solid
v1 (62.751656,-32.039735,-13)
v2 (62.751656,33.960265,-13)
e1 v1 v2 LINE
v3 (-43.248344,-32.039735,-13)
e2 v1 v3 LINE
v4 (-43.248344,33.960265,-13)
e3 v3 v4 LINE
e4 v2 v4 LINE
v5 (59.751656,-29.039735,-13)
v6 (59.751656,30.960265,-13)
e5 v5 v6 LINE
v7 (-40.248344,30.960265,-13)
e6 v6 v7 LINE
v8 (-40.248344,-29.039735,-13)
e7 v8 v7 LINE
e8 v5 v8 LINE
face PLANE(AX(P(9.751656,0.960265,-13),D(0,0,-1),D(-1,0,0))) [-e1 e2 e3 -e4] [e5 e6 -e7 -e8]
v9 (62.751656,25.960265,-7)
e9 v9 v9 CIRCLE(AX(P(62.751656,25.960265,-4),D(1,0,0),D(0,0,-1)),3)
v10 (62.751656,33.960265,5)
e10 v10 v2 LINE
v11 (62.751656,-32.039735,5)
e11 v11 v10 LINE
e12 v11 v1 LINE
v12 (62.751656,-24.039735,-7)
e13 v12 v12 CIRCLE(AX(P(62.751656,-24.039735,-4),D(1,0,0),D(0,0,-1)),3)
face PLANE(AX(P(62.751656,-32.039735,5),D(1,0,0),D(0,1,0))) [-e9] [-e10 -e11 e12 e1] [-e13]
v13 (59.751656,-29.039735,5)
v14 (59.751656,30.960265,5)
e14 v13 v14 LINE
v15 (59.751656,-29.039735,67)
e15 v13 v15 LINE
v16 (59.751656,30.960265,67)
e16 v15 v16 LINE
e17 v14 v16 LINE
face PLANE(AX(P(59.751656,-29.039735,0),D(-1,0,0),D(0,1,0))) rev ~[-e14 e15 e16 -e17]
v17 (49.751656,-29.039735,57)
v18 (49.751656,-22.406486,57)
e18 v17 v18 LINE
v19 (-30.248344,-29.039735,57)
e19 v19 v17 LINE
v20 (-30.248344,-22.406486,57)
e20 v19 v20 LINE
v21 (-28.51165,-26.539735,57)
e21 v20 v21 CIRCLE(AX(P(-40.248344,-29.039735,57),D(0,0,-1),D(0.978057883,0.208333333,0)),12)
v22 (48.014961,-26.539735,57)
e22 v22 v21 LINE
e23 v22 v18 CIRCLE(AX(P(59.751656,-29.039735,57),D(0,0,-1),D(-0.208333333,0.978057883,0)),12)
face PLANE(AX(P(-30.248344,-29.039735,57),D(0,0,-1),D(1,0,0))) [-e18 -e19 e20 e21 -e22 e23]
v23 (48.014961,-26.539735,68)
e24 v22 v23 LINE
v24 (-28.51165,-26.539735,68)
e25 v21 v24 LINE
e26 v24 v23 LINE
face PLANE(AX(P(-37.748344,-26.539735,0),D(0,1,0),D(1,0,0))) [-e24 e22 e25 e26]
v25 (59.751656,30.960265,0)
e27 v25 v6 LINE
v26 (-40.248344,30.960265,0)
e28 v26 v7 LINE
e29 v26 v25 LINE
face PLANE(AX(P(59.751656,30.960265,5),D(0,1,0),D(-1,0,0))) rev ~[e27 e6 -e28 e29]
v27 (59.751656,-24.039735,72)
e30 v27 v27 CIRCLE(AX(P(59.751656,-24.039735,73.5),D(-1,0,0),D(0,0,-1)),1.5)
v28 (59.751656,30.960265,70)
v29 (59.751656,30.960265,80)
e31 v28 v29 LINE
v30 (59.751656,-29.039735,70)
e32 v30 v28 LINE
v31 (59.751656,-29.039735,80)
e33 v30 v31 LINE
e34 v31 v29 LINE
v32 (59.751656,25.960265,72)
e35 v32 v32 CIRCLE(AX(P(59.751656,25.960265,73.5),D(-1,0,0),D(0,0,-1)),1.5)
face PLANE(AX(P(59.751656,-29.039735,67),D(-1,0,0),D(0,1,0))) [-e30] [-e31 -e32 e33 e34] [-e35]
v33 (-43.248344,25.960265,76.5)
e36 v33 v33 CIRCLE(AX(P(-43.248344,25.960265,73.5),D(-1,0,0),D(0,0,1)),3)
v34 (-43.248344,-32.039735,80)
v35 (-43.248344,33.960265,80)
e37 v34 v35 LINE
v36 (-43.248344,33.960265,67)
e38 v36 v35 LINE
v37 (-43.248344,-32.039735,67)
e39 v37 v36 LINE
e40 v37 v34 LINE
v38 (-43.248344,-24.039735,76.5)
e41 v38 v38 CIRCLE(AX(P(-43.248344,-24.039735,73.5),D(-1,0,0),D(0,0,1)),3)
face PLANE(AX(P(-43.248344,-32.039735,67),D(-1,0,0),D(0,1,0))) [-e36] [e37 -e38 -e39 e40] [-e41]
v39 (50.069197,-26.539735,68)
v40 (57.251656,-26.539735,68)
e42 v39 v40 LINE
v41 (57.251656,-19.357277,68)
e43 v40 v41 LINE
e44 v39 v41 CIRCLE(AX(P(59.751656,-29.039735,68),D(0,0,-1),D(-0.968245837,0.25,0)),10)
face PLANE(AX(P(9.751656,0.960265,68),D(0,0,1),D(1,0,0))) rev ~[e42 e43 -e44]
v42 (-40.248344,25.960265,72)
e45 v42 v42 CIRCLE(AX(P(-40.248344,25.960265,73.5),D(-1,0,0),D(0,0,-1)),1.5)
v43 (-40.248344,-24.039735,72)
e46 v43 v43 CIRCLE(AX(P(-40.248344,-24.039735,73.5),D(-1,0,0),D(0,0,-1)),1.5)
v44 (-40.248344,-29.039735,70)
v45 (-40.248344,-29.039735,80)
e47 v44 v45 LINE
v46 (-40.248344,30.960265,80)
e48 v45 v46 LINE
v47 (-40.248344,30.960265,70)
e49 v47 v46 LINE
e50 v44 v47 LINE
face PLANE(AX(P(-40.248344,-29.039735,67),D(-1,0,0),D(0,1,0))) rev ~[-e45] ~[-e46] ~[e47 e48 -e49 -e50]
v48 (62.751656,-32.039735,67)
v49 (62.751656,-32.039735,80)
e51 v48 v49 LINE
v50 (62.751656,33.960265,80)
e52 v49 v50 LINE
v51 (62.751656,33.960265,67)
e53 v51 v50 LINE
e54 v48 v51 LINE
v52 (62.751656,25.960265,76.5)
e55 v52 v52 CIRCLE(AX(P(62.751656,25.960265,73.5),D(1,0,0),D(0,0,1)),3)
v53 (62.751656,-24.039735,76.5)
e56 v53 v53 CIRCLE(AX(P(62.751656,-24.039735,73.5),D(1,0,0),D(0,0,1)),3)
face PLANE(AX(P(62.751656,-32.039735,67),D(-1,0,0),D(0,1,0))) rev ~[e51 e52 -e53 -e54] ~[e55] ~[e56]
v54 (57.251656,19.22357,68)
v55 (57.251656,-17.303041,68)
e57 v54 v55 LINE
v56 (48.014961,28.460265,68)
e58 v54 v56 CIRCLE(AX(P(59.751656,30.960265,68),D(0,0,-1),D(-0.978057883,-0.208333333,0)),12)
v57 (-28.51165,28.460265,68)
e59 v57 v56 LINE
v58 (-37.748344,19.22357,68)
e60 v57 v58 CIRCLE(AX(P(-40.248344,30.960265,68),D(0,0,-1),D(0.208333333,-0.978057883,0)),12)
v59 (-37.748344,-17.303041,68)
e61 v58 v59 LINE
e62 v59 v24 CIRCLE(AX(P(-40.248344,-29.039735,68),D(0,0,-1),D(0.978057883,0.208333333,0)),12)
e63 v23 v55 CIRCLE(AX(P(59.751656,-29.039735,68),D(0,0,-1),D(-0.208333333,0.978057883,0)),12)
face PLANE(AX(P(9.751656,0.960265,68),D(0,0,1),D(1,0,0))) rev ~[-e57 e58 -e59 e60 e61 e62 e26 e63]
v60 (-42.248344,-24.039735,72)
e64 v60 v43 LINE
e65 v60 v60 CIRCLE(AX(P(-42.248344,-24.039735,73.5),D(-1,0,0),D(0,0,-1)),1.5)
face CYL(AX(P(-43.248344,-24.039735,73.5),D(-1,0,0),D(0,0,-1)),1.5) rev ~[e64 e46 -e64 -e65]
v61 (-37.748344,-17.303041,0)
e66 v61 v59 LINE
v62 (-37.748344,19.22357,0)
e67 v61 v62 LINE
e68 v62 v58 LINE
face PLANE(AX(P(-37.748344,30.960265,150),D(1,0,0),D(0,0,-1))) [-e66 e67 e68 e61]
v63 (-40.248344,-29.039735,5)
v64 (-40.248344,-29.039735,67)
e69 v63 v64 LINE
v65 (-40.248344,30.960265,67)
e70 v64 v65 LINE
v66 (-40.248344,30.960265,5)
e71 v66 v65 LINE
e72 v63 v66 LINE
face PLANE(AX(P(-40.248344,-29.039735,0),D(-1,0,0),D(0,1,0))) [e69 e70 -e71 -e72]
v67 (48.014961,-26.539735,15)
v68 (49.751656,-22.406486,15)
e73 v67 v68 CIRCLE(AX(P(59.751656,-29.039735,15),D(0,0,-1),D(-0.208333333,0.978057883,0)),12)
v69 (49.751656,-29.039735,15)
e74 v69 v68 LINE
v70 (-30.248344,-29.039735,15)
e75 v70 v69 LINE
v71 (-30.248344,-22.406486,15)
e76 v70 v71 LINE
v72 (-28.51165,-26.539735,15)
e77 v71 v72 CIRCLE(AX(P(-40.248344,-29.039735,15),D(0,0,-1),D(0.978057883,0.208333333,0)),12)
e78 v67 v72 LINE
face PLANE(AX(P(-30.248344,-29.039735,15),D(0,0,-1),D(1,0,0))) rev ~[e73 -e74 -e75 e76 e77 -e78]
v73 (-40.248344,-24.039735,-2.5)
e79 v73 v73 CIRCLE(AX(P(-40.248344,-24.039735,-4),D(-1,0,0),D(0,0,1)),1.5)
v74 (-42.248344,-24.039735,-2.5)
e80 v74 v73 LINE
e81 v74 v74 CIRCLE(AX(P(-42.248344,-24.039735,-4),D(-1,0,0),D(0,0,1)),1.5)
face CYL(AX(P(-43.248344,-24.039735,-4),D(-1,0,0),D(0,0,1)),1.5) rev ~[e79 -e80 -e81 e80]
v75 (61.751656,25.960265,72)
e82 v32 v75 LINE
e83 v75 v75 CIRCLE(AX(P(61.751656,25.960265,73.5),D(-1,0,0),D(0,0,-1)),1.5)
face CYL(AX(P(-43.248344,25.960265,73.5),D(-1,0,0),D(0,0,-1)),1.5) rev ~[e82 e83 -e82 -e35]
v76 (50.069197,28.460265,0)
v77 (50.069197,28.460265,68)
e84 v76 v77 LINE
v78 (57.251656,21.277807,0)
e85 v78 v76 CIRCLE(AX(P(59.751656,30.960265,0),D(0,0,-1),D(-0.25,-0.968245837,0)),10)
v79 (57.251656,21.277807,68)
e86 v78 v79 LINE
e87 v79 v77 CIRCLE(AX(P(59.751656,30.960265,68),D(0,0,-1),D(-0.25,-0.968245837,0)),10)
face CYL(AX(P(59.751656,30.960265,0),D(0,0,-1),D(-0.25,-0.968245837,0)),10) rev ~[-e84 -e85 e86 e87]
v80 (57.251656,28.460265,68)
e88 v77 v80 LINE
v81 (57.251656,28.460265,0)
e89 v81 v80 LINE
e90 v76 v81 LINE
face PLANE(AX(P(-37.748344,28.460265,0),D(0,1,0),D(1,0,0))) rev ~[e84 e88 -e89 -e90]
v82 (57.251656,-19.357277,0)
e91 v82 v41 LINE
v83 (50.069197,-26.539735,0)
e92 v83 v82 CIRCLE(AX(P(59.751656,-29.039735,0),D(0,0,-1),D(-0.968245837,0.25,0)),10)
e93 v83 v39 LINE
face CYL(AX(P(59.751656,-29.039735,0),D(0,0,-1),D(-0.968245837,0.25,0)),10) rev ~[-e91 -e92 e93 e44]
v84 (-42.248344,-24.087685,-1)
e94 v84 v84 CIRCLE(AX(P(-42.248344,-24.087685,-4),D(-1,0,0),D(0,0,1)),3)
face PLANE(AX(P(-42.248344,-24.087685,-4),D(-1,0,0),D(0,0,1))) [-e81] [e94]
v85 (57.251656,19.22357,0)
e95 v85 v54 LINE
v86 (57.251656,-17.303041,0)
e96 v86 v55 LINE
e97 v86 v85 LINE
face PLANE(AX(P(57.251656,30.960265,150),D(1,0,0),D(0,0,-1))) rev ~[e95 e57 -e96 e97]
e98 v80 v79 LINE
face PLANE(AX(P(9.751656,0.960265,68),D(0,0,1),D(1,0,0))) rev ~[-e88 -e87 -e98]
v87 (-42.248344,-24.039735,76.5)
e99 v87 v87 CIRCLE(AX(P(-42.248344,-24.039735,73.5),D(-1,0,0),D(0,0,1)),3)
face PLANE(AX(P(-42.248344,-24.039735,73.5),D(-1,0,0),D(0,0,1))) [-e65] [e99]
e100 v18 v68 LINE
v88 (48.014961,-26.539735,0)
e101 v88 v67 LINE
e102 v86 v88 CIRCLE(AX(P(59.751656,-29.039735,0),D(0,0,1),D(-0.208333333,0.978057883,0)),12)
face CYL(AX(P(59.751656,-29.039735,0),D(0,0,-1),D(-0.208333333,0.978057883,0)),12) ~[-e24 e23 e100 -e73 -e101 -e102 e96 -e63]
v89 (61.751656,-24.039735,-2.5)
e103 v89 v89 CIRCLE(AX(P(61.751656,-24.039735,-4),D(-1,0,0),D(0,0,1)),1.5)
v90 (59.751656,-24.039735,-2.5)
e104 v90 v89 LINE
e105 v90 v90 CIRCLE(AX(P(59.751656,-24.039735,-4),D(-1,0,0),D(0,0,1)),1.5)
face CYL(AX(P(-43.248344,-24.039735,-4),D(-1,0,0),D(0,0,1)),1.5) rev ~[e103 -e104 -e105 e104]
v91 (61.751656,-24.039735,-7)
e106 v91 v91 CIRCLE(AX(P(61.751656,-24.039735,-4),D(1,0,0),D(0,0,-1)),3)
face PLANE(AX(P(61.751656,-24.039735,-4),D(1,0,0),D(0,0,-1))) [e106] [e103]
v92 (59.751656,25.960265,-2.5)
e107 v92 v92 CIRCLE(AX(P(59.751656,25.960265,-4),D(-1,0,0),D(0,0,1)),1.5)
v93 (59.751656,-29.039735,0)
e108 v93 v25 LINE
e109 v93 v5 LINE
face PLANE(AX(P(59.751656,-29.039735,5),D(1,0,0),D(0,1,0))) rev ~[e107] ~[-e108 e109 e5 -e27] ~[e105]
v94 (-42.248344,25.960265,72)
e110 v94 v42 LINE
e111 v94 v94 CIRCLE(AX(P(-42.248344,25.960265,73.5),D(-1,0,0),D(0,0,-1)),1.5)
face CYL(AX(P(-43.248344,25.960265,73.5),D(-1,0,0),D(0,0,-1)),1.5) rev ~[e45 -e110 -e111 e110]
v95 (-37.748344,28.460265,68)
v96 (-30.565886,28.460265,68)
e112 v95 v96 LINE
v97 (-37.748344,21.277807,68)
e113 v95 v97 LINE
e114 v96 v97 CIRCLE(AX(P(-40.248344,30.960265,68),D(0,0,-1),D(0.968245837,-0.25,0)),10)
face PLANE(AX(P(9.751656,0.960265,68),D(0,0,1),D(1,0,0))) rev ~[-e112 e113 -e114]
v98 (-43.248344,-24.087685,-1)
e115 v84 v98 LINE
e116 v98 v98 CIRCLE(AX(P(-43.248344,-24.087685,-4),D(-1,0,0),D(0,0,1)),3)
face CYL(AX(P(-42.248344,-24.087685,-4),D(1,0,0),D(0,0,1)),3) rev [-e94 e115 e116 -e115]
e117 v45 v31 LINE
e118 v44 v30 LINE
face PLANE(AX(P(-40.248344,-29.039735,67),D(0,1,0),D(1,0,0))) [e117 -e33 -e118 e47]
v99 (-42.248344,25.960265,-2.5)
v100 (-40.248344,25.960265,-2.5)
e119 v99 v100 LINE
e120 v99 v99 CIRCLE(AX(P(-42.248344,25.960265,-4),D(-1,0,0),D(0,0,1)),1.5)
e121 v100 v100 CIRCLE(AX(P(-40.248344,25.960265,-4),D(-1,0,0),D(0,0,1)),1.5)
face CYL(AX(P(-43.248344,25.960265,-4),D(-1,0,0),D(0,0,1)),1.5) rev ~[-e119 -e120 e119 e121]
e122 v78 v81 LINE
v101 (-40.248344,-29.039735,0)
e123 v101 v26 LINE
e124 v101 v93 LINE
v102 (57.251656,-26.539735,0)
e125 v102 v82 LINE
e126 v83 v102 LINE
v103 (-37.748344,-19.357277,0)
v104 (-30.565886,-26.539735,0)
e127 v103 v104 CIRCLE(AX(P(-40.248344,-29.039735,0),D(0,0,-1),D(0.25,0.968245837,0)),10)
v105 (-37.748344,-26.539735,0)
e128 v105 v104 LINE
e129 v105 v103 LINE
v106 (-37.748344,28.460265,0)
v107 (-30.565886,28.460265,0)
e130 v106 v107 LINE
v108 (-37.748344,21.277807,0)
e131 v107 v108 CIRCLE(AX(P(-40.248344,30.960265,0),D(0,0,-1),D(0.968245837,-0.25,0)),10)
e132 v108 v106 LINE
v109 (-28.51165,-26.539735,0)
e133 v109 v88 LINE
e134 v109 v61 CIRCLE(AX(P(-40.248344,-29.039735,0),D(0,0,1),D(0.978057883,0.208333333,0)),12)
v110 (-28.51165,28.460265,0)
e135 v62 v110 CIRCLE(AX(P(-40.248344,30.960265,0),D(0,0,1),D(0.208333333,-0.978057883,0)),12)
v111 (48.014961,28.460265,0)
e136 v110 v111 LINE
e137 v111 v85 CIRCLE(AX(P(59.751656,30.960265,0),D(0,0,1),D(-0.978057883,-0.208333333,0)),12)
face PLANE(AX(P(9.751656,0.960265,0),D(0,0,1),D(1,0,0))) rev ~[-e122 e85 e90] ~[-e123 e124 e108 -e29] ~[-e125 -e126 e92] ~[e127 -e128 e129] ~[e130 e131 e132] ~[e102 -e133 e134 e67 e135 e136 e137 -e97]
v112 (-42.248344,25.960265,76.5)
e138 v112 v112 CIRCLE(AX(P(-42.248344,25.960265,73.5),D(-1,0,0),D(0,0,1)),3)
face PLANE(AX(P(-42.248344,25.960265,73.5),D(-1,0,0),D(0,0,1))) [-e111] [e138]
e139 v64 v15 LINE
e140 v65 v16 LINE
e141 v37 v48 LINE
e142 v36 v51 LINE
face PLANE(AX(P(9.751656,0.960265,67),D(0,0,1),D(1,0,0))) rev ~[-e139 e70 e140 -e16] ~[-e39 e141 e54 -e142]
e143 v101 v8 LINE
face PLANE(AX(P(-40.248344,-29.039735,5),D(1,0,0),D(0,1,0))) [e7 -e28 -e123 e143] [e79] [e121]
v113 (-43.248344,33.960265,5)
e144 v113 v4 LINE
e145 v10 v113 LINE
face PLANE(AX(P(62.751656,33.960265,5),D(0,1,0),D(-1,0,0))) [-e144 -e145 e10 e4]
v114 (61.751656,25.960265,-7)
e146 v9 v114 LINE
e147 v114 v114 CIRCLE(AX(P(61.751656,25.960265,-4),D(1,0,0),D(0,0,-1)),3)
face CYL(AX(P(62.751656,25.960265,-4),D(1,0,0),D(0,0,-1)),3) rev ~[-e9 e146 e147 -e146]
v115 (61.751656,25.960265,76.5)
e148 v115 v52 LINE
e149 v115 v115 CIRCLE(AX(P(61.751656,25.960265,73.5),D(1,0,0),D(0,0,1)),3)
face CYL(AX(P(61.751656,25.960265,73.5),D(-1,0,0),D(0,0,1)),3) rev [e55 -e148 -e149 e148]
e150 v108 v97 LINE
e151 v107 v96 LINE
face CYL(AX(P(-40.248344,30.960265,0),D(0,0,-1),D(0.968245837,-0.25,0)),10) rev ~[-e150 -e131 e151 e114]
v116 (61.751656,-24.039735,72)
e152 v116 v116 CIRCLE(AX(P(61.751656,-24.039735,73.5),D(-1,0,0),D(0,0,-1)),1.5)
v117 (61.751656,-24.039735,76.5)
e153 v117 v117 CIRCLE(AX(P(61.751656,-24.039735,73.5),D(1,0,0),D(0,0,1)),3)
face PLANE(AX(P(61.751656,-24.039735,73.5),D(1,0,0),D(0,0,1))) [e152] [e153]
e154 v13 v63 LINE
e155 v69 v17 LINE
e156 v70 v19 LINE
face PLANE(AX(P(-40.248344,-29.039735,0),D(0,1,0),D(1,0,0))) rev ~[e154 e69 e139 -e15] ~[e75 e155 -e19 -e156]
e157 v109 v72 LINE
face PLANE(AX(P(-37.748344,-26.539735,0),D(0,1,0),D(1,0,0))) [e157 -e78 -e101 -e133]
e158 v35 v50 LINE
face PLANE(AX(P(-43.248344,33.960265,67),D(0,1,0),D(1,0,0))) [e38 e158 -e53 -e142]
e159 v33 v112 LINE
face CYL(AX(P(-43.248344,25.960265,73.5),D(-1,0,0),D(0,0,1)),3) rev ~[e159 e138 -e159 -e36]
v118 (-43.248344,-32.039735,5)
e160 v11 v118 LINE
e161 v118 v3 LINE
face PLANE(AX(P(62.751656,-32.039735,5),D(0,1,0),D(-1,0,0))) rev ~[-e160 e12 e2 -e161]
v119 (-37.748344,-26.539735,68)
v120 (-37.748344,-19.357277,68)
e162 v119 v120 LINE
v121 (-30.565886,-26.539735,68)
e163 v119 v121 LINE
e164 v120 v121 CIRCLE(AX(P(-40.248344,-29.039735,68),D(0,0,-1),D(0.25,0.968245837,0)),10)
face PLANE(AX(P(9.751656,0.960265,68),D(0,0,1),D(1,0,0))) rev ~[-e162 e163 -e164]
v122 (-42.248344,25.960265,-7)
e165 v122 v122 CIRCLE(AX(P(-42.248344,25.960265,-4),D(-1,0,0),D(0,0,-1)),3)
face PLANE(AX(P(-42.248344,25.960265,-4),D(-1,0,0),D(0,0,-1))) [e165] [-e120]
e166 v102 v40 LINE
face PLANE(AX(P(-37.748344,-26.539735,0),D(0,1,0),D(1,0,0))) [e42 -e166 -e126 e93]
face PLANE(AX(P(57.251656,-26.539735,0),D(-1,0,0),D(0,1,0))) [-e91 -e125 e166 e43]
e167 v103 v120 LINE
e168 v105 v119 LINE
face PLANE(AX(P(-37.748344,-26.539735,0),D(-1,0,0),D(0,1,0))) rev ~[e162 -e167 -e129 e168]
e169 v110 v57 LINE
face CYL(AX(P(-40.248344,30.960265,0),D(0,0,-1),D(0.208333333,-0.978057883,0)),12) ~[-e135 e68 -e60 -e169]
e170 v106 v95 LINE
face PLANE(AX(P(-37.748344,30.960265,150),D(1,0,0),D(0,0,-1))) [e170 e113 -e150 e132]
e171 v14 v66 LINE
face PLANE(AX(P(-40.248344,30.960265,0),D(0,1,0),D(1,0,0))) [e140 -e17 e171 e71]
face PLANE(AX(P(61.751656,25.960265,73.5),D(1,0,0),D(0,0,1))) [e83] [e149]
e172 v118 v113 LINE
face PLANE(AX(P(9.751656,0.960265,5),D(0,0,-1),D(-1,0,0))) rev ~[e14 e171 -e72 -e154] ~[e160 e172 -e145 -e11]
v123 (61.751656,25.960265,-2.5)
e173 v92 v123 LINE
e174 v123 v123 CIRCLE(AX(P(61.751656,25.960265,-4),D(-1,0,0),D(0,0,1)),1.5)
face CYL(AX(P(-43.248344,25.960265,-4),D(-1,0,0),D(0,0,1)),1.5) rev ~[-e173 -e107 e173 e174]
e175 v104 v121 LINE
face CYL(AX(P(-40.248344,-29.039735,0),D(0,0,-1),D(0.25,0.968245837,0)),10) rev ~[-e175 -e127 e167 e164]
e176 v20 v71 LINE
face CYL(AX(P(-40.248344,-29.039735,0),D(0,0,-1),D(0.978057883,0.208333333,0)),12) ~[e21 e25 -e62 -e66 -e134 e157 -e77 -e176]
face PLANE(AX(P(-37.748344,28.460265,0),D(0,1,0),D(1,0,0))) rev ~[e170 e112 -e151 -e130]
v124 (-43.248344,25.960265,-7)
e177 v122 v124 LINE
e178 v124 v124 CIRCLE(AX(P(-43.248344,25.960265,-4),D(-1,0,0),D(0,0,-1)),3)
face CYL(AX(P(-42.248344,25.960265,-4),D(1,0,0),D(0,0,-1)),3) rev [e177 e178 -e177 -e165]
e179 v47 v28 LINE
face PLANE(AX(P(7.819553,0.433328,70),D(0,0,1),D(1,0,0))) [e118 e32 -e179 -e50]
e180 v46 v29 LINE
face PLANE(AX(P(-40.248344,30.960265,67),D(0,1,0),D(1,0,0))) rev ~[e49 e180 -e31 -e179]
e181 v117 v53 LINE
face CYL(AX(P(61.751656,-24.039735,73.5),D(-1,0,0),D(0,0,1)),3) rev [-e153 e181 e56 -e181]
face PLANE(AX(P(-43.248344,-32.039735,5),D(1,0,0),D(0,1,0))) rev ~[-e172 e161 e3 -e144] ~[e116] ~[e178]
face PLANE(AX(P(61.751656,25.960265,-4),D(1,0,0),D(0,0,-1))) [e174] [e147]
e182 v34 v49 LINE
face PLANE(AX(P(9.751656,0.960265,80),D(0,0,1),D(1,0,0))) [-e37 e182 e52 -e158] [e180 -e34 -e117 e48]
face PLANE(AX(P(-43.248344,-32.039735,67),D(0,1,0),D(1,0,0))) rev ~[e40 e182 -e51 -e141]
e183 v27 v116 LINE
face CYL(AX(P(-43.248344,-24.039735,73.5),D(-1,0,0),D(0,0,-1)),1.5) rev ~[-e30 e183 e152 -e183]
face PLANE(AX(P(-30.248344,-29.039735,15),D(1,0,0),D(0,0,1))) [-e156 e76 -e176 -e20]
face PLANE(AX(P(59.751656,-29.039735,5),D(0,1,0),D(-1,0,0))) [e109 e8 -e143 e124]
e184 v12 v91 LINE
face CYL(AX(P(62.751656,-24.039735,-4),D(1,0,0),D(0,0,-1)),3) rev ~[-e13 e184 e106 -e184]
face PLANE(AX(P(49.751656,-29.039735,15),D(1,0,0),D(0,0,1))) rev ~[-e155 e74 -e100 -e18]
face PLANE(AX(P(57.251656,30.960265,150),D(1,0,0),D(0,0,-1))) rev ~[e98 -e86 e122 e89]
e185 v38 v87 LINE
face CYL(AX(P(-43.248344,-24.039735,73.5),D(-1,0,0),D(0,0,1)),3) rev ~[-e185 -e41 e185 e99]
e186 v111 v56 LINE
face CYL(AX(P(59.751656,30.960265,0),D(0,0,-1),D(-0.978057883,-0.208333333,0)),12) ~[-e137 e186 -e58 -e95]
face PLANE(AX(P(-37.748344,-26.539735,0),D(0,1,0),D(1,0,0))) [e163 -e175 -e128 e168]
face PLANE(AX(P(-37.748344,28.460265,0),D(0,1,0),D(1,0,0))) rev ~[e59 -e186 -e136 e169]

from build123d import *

# Parameters (mm, degrees)
SKETCH1_W                = 100
SKETCH1_H                = 60
BOSS_EXTRUDE1_DEPTH      = 150
SKETCH2_W                = 95
SKETCH2_H                = 15
CUT_EXTRUDE1_DEPTH       = 20
BOSS_EXTRUDE2_DEPTH      = 13
BOSS_EXTRUDE2_DEPTH_BACK = 5
SKETCH3_W                = 106
SKETCH3_H                = 66
SKETCH3_W_2              = 100
SKETCH3_H_2              = 60
SKETCH4_R                = 1.5
CUT_EXTRUDE2_DEPTH       = 120
SKETCH5_R                = 3
CUT_EXTRUDE3_DEPTH       = 1
CUT_EXTRUDE4_START       = -1
SKETCH6_R                = 3
CUT_EXTRUDE4_DEPTH       = 1
SKETCH8_W                = 125.879436885
SKETCH8_H                = 80.445742456
CUT_EXTRUDE6_DEPTH       = 80
BOSS_EXTRUDE3_DEPTH      = 10
BOSS_EXTRUDE3_DEPTH_BACK = 3
SKETCH9_W                = 106
SKETCH9_H                = 66
SKETCH9_W_2              = 100
SKETCH9_H_2              = 60
SKETCH10_R               = 1.5
CUT_EXTRUDE7_DEPTH       = 117
SKETCH10_3_R             = 3
CUT_EXTRUDE8_DEPTH       = 1
CUT_EXTRUDE9_START       = -1
SKETCH11_R               = 3
CUT_EXTRUDE9_DEPTH       = 1
SKETCH12_W               = 100
SKETCH12_H               = 60
BOSS_EXTRUDE4_DEPTH      = 2
SKETCH13_W               = 80
SKETCH13_H               = 42
CUT_EXTRUDE10_DEPTH      = 10


with BuildPart() as part:
    # Sketch1 → Boss-Extrude1 (new body)
    with BuildSketch(Plane.XY):
        with Locations((9.751655629, 0.960264901)):
            Rectangle(SKETCH1_W, SKETCH1_H)
        with BuildLine():
            Line((-37.748344371, 21.277806535), (-37.748344371, 28.460264901))
            Line((-37.748344371, 28.460264901), (-30.565886005, 28.460264901))
            ThreePointArc((-30.565886005, 28.460264901), (-33.177276559, 23.889197089), (-37.748344371, 21.277806535))
        make_face(mode=Mode.SUBTRACT)
        with BuildLine():
            Line((-37.748344371, -17.303040505), (-37.748344371, 19.223570306))
            ThreePointArc((-37.748344371, 19.223570306), (-31.763062997, 22.474983526), (-28.511649777, 28.460264901))
            Line((-28.511649777, 28.460264901), (48.014961035, 28.460264901))
            ThreePointArc((48.014961035, 28.460264901), (51.266374255, 22.474983526), (57.251655629, 19.223570306))
            Line((57.251655629, 19.223570306), (57.251655629, -17.303040505))
            ThreePointArc((57.251655629, -17.303040505), (51.266374255, -20.554453725), (48.014961035, -26.539735099))
            Line((48.014961035, -26.539735099), (-28.511649777, -26.539735099))
            ThreePointArc((-28.511649777, -26.539735099), (-31.763062997, -20.554453725), (-37.748344371, -17.303040505))
        make_face(mode=Mode.SUBTRACT)
        with BuildLine():
            Line((-37.748344371, -26.539735099), (-37.748344371, -19.357276734))
            ThreePointArc((-37.748344371, -19.357276734), (-33.177276559, -21.968667287), (-30.565886005, -26.539735099))
            Line((-30.565886005, -26.539735099), (-37.748344371, -26.539735099))
        make_face(mode=Mode.SUBTRACT)
        with BuildLine():
            Line((57.251655629, -26.539735099), (50.069197264, -26.539735099))
            ThreePointArc((50.069197264, -26.539735099), (52.680587817, -21.968667287), (57.251655629, -19.357276734))
            Line((57.251655629, -19.357276734), (57.251655629, -26.539735099))
        make_face(mode=Mode.SUBTRACT)
        with BuildLine():
            Line((57.251655629, 28.460264901), (57.251655629, 21.277806535))
            ThreePointArc((57.251655629, 21.277806535), (52.680587817, 23.889197089), (50.069197264, 28.460264901))
            Line((50.069197264, 28.460264901), (57.251655629, 28.460264901))
        make_face(mode=Mode.SUBTRACT)
    extrude(amount=BOSS_EXTRUDE1_DEPTH)

    # Sketch2 → Cut-Extrude1 (cut)
    with BuildSketch(Plane(origin=(0, 30.960264901, 0), x_dir=(1, 0, 0), z_dir=(0, 1, 0))):
        with Locations((9.751655629, -142.5)):
            Rectangle(SKETCH2_W, SKETCH2_H)
    extrude(amount=-CUT_EXTRUDE1_DEPTH, mode=Mode.SUBTRACT)

    # Sketch3 → Boss-Extrude2 (add, two sides: drawn at the far end of the back side and taken through both)
    with BuildSketch(Plane(origin=(0, 0, 0), x_dir=(-1, 0, 0), z_dir=(0, 0, -1)).offset(-BOSS_EXTRUDE2_DEPTH_BACK)):
        with Locations((-9.751655629, 0.960264901)):
            Rectangle(SKETCH3_W, SKETCH3_H)
        with Locations((-9.751655629, 0.960264901)):
            Rectangle(SKETCH3_W_2, SKETCH3_H_2, mode=Mode.SUBTRACT)
    extrude(amount=BOSS_EXTRUDE2_DEPTH + BOSS_EXTRUDE2_DEPTH_BACK)

    # Sketch4 → Cut-Extrude2 (cut)
    with BuildSketch(Plane.ZY.offset(43.248344371)):
        with Locations((-4, -24.039735099)):
            Circle(SKETCH4_R)
        with Locations((-4, 25.960264901)):
            Circle(SKETCH4_R)
    extrude(amount=-CUT_EXTRUDE2_DEPTH, mode=Mode.SUBTRACT)

    # Sketch5 → Cut-Extrude3 (cut)
    with BuildSketch(Plane(origin=(62.751655629, 0, 0), x_dir=(0, 0, -1), z_dir=(1, 0, 0))):
        with Locations((4, -24.039735099)):
            Circle(SKETCH5_R)
        with Locations((4, 25.960264901)):
            Circle(SKETCH5_R)
    extrude(amount=-CUT_EXTRUDE3_DEPTH, mode=Mode.SUBTRACT)

    # Sketch6 → Cut-Extrude4 (cut)
    with BuildSketch(Plane.ZY.offset(43.248344371).offset(CUT_EXTRUDE4_START)):
        with Locations((-4, 25.960264901)):
            Circle(SKETCH6_R)
        with Locations((-4, -24.087684502)):
            Circle(SKETCH6_R)
    extrude(amount=CUT_EXTRUDE4_DEPTH, mode=Mode.SUBTRACT)

    # Sketch8 → Cut-Extrude6 (cut)
    with BuildSketch(Plane.XY.offset(150)):
        with Locations((7.819552644, 0.433327723)):
            Rectangle(SKETCH8_W, SKETCH8_H)
    extrude(amount=-CUT_EXTRUDE6_DEPTH, mode=Mode.SUBTRACT)

    # Sketch9 → Boss-Extrude3 (add, two sides: drawn at the far end of the back side and taken through both)
    with BuildSketch(Plane.XY.offset(70).offset(-BOSS_EXTRUDE3_DEPTH_BACK)):
        with Locations((9.751655629, 0.960264901)):
            Rectangle(SKETCH9_W, SKETCH9_H)
        with Locations((9.751655629, 0.960264901)):
            Rectangle(SKETCH9_W_2, SKETCH9_H_2, mode=Mode.SUBTRACT)
    extrude(amount=BOSS_EXTRUDE3_DEPTH + BOSS_EXTRUDE3_DEPTH_BACK)

    # Sketch10 → Cut-Extrude7 (cut)
    with BuildSketch(Plane.ZY.offset(43.248344371)):
        with Locations((73.5, 25.960264901)):
            Circle(SKETCH10_R)
        with Locations((73.5, -24.039735099)):
            Circle(SKETCH10_R)
    extrude(amount=-CUT_EXTRUDE7_DEPTH, mode=Mode.SUBTRACT)

    # Sketch10<3> → Cut-Extrude8 (cut)
    with BuildSketch(Plane.ZY.offset(43.248344371)):
        with Locations((73.5, 25.960264901)):
            Circle(SKETCH10_3_R)
        with Locations((73.5, -24.039735099)):
            Circle(SKETCH10_3_R)
    extrude(amount=-CUT_EXTRUDE8_DEPTH, mode=Mode.SUBTRACT)

    # Sketch11 → Cut-Extrude9 (cut)
    with BuildSketch(Plane(origin=(62.751655629, 0, 0), x_dir=(0, 0, -1), z_dir=(1, 0, 0)).offset(CUT_EXTRUDE9_START)):
        with Locations((-73.5, -24.039735099)):
            Circle(SKETCH11_R)
        with Locations((-73.5, 25.960264901)):
            Circle(SKETCH11_R)
    extrude(amount=CUT_EXTRUDE9_DEPTH, mode=Mode.SUBTRACT)

    # Sketch12 → Boss-Extrude4 (add)
    with BuildSketch(Plane.XY.offset(70)):
        with Locations((9.751655629, 0.960264901)):
            Rectangle(SKETCH12_W, SKETCH12_H)
    extrude(amount=-BOSS_EXTRUDE4_DEPTH)

    # Sketch13 → Cut-Extrude10 (cut)
    with BuildSketch(Plane.XZ.offset(29.039735099)):
        with Locations((9.751655629, 36)):
            Rectangle(SKETCH13_W, SKETCH13_H)
    extrude(amount=-CUT_EXTRUDE10_DEPTH, mode=Mode.SUBTRACT)


solid = part.part
